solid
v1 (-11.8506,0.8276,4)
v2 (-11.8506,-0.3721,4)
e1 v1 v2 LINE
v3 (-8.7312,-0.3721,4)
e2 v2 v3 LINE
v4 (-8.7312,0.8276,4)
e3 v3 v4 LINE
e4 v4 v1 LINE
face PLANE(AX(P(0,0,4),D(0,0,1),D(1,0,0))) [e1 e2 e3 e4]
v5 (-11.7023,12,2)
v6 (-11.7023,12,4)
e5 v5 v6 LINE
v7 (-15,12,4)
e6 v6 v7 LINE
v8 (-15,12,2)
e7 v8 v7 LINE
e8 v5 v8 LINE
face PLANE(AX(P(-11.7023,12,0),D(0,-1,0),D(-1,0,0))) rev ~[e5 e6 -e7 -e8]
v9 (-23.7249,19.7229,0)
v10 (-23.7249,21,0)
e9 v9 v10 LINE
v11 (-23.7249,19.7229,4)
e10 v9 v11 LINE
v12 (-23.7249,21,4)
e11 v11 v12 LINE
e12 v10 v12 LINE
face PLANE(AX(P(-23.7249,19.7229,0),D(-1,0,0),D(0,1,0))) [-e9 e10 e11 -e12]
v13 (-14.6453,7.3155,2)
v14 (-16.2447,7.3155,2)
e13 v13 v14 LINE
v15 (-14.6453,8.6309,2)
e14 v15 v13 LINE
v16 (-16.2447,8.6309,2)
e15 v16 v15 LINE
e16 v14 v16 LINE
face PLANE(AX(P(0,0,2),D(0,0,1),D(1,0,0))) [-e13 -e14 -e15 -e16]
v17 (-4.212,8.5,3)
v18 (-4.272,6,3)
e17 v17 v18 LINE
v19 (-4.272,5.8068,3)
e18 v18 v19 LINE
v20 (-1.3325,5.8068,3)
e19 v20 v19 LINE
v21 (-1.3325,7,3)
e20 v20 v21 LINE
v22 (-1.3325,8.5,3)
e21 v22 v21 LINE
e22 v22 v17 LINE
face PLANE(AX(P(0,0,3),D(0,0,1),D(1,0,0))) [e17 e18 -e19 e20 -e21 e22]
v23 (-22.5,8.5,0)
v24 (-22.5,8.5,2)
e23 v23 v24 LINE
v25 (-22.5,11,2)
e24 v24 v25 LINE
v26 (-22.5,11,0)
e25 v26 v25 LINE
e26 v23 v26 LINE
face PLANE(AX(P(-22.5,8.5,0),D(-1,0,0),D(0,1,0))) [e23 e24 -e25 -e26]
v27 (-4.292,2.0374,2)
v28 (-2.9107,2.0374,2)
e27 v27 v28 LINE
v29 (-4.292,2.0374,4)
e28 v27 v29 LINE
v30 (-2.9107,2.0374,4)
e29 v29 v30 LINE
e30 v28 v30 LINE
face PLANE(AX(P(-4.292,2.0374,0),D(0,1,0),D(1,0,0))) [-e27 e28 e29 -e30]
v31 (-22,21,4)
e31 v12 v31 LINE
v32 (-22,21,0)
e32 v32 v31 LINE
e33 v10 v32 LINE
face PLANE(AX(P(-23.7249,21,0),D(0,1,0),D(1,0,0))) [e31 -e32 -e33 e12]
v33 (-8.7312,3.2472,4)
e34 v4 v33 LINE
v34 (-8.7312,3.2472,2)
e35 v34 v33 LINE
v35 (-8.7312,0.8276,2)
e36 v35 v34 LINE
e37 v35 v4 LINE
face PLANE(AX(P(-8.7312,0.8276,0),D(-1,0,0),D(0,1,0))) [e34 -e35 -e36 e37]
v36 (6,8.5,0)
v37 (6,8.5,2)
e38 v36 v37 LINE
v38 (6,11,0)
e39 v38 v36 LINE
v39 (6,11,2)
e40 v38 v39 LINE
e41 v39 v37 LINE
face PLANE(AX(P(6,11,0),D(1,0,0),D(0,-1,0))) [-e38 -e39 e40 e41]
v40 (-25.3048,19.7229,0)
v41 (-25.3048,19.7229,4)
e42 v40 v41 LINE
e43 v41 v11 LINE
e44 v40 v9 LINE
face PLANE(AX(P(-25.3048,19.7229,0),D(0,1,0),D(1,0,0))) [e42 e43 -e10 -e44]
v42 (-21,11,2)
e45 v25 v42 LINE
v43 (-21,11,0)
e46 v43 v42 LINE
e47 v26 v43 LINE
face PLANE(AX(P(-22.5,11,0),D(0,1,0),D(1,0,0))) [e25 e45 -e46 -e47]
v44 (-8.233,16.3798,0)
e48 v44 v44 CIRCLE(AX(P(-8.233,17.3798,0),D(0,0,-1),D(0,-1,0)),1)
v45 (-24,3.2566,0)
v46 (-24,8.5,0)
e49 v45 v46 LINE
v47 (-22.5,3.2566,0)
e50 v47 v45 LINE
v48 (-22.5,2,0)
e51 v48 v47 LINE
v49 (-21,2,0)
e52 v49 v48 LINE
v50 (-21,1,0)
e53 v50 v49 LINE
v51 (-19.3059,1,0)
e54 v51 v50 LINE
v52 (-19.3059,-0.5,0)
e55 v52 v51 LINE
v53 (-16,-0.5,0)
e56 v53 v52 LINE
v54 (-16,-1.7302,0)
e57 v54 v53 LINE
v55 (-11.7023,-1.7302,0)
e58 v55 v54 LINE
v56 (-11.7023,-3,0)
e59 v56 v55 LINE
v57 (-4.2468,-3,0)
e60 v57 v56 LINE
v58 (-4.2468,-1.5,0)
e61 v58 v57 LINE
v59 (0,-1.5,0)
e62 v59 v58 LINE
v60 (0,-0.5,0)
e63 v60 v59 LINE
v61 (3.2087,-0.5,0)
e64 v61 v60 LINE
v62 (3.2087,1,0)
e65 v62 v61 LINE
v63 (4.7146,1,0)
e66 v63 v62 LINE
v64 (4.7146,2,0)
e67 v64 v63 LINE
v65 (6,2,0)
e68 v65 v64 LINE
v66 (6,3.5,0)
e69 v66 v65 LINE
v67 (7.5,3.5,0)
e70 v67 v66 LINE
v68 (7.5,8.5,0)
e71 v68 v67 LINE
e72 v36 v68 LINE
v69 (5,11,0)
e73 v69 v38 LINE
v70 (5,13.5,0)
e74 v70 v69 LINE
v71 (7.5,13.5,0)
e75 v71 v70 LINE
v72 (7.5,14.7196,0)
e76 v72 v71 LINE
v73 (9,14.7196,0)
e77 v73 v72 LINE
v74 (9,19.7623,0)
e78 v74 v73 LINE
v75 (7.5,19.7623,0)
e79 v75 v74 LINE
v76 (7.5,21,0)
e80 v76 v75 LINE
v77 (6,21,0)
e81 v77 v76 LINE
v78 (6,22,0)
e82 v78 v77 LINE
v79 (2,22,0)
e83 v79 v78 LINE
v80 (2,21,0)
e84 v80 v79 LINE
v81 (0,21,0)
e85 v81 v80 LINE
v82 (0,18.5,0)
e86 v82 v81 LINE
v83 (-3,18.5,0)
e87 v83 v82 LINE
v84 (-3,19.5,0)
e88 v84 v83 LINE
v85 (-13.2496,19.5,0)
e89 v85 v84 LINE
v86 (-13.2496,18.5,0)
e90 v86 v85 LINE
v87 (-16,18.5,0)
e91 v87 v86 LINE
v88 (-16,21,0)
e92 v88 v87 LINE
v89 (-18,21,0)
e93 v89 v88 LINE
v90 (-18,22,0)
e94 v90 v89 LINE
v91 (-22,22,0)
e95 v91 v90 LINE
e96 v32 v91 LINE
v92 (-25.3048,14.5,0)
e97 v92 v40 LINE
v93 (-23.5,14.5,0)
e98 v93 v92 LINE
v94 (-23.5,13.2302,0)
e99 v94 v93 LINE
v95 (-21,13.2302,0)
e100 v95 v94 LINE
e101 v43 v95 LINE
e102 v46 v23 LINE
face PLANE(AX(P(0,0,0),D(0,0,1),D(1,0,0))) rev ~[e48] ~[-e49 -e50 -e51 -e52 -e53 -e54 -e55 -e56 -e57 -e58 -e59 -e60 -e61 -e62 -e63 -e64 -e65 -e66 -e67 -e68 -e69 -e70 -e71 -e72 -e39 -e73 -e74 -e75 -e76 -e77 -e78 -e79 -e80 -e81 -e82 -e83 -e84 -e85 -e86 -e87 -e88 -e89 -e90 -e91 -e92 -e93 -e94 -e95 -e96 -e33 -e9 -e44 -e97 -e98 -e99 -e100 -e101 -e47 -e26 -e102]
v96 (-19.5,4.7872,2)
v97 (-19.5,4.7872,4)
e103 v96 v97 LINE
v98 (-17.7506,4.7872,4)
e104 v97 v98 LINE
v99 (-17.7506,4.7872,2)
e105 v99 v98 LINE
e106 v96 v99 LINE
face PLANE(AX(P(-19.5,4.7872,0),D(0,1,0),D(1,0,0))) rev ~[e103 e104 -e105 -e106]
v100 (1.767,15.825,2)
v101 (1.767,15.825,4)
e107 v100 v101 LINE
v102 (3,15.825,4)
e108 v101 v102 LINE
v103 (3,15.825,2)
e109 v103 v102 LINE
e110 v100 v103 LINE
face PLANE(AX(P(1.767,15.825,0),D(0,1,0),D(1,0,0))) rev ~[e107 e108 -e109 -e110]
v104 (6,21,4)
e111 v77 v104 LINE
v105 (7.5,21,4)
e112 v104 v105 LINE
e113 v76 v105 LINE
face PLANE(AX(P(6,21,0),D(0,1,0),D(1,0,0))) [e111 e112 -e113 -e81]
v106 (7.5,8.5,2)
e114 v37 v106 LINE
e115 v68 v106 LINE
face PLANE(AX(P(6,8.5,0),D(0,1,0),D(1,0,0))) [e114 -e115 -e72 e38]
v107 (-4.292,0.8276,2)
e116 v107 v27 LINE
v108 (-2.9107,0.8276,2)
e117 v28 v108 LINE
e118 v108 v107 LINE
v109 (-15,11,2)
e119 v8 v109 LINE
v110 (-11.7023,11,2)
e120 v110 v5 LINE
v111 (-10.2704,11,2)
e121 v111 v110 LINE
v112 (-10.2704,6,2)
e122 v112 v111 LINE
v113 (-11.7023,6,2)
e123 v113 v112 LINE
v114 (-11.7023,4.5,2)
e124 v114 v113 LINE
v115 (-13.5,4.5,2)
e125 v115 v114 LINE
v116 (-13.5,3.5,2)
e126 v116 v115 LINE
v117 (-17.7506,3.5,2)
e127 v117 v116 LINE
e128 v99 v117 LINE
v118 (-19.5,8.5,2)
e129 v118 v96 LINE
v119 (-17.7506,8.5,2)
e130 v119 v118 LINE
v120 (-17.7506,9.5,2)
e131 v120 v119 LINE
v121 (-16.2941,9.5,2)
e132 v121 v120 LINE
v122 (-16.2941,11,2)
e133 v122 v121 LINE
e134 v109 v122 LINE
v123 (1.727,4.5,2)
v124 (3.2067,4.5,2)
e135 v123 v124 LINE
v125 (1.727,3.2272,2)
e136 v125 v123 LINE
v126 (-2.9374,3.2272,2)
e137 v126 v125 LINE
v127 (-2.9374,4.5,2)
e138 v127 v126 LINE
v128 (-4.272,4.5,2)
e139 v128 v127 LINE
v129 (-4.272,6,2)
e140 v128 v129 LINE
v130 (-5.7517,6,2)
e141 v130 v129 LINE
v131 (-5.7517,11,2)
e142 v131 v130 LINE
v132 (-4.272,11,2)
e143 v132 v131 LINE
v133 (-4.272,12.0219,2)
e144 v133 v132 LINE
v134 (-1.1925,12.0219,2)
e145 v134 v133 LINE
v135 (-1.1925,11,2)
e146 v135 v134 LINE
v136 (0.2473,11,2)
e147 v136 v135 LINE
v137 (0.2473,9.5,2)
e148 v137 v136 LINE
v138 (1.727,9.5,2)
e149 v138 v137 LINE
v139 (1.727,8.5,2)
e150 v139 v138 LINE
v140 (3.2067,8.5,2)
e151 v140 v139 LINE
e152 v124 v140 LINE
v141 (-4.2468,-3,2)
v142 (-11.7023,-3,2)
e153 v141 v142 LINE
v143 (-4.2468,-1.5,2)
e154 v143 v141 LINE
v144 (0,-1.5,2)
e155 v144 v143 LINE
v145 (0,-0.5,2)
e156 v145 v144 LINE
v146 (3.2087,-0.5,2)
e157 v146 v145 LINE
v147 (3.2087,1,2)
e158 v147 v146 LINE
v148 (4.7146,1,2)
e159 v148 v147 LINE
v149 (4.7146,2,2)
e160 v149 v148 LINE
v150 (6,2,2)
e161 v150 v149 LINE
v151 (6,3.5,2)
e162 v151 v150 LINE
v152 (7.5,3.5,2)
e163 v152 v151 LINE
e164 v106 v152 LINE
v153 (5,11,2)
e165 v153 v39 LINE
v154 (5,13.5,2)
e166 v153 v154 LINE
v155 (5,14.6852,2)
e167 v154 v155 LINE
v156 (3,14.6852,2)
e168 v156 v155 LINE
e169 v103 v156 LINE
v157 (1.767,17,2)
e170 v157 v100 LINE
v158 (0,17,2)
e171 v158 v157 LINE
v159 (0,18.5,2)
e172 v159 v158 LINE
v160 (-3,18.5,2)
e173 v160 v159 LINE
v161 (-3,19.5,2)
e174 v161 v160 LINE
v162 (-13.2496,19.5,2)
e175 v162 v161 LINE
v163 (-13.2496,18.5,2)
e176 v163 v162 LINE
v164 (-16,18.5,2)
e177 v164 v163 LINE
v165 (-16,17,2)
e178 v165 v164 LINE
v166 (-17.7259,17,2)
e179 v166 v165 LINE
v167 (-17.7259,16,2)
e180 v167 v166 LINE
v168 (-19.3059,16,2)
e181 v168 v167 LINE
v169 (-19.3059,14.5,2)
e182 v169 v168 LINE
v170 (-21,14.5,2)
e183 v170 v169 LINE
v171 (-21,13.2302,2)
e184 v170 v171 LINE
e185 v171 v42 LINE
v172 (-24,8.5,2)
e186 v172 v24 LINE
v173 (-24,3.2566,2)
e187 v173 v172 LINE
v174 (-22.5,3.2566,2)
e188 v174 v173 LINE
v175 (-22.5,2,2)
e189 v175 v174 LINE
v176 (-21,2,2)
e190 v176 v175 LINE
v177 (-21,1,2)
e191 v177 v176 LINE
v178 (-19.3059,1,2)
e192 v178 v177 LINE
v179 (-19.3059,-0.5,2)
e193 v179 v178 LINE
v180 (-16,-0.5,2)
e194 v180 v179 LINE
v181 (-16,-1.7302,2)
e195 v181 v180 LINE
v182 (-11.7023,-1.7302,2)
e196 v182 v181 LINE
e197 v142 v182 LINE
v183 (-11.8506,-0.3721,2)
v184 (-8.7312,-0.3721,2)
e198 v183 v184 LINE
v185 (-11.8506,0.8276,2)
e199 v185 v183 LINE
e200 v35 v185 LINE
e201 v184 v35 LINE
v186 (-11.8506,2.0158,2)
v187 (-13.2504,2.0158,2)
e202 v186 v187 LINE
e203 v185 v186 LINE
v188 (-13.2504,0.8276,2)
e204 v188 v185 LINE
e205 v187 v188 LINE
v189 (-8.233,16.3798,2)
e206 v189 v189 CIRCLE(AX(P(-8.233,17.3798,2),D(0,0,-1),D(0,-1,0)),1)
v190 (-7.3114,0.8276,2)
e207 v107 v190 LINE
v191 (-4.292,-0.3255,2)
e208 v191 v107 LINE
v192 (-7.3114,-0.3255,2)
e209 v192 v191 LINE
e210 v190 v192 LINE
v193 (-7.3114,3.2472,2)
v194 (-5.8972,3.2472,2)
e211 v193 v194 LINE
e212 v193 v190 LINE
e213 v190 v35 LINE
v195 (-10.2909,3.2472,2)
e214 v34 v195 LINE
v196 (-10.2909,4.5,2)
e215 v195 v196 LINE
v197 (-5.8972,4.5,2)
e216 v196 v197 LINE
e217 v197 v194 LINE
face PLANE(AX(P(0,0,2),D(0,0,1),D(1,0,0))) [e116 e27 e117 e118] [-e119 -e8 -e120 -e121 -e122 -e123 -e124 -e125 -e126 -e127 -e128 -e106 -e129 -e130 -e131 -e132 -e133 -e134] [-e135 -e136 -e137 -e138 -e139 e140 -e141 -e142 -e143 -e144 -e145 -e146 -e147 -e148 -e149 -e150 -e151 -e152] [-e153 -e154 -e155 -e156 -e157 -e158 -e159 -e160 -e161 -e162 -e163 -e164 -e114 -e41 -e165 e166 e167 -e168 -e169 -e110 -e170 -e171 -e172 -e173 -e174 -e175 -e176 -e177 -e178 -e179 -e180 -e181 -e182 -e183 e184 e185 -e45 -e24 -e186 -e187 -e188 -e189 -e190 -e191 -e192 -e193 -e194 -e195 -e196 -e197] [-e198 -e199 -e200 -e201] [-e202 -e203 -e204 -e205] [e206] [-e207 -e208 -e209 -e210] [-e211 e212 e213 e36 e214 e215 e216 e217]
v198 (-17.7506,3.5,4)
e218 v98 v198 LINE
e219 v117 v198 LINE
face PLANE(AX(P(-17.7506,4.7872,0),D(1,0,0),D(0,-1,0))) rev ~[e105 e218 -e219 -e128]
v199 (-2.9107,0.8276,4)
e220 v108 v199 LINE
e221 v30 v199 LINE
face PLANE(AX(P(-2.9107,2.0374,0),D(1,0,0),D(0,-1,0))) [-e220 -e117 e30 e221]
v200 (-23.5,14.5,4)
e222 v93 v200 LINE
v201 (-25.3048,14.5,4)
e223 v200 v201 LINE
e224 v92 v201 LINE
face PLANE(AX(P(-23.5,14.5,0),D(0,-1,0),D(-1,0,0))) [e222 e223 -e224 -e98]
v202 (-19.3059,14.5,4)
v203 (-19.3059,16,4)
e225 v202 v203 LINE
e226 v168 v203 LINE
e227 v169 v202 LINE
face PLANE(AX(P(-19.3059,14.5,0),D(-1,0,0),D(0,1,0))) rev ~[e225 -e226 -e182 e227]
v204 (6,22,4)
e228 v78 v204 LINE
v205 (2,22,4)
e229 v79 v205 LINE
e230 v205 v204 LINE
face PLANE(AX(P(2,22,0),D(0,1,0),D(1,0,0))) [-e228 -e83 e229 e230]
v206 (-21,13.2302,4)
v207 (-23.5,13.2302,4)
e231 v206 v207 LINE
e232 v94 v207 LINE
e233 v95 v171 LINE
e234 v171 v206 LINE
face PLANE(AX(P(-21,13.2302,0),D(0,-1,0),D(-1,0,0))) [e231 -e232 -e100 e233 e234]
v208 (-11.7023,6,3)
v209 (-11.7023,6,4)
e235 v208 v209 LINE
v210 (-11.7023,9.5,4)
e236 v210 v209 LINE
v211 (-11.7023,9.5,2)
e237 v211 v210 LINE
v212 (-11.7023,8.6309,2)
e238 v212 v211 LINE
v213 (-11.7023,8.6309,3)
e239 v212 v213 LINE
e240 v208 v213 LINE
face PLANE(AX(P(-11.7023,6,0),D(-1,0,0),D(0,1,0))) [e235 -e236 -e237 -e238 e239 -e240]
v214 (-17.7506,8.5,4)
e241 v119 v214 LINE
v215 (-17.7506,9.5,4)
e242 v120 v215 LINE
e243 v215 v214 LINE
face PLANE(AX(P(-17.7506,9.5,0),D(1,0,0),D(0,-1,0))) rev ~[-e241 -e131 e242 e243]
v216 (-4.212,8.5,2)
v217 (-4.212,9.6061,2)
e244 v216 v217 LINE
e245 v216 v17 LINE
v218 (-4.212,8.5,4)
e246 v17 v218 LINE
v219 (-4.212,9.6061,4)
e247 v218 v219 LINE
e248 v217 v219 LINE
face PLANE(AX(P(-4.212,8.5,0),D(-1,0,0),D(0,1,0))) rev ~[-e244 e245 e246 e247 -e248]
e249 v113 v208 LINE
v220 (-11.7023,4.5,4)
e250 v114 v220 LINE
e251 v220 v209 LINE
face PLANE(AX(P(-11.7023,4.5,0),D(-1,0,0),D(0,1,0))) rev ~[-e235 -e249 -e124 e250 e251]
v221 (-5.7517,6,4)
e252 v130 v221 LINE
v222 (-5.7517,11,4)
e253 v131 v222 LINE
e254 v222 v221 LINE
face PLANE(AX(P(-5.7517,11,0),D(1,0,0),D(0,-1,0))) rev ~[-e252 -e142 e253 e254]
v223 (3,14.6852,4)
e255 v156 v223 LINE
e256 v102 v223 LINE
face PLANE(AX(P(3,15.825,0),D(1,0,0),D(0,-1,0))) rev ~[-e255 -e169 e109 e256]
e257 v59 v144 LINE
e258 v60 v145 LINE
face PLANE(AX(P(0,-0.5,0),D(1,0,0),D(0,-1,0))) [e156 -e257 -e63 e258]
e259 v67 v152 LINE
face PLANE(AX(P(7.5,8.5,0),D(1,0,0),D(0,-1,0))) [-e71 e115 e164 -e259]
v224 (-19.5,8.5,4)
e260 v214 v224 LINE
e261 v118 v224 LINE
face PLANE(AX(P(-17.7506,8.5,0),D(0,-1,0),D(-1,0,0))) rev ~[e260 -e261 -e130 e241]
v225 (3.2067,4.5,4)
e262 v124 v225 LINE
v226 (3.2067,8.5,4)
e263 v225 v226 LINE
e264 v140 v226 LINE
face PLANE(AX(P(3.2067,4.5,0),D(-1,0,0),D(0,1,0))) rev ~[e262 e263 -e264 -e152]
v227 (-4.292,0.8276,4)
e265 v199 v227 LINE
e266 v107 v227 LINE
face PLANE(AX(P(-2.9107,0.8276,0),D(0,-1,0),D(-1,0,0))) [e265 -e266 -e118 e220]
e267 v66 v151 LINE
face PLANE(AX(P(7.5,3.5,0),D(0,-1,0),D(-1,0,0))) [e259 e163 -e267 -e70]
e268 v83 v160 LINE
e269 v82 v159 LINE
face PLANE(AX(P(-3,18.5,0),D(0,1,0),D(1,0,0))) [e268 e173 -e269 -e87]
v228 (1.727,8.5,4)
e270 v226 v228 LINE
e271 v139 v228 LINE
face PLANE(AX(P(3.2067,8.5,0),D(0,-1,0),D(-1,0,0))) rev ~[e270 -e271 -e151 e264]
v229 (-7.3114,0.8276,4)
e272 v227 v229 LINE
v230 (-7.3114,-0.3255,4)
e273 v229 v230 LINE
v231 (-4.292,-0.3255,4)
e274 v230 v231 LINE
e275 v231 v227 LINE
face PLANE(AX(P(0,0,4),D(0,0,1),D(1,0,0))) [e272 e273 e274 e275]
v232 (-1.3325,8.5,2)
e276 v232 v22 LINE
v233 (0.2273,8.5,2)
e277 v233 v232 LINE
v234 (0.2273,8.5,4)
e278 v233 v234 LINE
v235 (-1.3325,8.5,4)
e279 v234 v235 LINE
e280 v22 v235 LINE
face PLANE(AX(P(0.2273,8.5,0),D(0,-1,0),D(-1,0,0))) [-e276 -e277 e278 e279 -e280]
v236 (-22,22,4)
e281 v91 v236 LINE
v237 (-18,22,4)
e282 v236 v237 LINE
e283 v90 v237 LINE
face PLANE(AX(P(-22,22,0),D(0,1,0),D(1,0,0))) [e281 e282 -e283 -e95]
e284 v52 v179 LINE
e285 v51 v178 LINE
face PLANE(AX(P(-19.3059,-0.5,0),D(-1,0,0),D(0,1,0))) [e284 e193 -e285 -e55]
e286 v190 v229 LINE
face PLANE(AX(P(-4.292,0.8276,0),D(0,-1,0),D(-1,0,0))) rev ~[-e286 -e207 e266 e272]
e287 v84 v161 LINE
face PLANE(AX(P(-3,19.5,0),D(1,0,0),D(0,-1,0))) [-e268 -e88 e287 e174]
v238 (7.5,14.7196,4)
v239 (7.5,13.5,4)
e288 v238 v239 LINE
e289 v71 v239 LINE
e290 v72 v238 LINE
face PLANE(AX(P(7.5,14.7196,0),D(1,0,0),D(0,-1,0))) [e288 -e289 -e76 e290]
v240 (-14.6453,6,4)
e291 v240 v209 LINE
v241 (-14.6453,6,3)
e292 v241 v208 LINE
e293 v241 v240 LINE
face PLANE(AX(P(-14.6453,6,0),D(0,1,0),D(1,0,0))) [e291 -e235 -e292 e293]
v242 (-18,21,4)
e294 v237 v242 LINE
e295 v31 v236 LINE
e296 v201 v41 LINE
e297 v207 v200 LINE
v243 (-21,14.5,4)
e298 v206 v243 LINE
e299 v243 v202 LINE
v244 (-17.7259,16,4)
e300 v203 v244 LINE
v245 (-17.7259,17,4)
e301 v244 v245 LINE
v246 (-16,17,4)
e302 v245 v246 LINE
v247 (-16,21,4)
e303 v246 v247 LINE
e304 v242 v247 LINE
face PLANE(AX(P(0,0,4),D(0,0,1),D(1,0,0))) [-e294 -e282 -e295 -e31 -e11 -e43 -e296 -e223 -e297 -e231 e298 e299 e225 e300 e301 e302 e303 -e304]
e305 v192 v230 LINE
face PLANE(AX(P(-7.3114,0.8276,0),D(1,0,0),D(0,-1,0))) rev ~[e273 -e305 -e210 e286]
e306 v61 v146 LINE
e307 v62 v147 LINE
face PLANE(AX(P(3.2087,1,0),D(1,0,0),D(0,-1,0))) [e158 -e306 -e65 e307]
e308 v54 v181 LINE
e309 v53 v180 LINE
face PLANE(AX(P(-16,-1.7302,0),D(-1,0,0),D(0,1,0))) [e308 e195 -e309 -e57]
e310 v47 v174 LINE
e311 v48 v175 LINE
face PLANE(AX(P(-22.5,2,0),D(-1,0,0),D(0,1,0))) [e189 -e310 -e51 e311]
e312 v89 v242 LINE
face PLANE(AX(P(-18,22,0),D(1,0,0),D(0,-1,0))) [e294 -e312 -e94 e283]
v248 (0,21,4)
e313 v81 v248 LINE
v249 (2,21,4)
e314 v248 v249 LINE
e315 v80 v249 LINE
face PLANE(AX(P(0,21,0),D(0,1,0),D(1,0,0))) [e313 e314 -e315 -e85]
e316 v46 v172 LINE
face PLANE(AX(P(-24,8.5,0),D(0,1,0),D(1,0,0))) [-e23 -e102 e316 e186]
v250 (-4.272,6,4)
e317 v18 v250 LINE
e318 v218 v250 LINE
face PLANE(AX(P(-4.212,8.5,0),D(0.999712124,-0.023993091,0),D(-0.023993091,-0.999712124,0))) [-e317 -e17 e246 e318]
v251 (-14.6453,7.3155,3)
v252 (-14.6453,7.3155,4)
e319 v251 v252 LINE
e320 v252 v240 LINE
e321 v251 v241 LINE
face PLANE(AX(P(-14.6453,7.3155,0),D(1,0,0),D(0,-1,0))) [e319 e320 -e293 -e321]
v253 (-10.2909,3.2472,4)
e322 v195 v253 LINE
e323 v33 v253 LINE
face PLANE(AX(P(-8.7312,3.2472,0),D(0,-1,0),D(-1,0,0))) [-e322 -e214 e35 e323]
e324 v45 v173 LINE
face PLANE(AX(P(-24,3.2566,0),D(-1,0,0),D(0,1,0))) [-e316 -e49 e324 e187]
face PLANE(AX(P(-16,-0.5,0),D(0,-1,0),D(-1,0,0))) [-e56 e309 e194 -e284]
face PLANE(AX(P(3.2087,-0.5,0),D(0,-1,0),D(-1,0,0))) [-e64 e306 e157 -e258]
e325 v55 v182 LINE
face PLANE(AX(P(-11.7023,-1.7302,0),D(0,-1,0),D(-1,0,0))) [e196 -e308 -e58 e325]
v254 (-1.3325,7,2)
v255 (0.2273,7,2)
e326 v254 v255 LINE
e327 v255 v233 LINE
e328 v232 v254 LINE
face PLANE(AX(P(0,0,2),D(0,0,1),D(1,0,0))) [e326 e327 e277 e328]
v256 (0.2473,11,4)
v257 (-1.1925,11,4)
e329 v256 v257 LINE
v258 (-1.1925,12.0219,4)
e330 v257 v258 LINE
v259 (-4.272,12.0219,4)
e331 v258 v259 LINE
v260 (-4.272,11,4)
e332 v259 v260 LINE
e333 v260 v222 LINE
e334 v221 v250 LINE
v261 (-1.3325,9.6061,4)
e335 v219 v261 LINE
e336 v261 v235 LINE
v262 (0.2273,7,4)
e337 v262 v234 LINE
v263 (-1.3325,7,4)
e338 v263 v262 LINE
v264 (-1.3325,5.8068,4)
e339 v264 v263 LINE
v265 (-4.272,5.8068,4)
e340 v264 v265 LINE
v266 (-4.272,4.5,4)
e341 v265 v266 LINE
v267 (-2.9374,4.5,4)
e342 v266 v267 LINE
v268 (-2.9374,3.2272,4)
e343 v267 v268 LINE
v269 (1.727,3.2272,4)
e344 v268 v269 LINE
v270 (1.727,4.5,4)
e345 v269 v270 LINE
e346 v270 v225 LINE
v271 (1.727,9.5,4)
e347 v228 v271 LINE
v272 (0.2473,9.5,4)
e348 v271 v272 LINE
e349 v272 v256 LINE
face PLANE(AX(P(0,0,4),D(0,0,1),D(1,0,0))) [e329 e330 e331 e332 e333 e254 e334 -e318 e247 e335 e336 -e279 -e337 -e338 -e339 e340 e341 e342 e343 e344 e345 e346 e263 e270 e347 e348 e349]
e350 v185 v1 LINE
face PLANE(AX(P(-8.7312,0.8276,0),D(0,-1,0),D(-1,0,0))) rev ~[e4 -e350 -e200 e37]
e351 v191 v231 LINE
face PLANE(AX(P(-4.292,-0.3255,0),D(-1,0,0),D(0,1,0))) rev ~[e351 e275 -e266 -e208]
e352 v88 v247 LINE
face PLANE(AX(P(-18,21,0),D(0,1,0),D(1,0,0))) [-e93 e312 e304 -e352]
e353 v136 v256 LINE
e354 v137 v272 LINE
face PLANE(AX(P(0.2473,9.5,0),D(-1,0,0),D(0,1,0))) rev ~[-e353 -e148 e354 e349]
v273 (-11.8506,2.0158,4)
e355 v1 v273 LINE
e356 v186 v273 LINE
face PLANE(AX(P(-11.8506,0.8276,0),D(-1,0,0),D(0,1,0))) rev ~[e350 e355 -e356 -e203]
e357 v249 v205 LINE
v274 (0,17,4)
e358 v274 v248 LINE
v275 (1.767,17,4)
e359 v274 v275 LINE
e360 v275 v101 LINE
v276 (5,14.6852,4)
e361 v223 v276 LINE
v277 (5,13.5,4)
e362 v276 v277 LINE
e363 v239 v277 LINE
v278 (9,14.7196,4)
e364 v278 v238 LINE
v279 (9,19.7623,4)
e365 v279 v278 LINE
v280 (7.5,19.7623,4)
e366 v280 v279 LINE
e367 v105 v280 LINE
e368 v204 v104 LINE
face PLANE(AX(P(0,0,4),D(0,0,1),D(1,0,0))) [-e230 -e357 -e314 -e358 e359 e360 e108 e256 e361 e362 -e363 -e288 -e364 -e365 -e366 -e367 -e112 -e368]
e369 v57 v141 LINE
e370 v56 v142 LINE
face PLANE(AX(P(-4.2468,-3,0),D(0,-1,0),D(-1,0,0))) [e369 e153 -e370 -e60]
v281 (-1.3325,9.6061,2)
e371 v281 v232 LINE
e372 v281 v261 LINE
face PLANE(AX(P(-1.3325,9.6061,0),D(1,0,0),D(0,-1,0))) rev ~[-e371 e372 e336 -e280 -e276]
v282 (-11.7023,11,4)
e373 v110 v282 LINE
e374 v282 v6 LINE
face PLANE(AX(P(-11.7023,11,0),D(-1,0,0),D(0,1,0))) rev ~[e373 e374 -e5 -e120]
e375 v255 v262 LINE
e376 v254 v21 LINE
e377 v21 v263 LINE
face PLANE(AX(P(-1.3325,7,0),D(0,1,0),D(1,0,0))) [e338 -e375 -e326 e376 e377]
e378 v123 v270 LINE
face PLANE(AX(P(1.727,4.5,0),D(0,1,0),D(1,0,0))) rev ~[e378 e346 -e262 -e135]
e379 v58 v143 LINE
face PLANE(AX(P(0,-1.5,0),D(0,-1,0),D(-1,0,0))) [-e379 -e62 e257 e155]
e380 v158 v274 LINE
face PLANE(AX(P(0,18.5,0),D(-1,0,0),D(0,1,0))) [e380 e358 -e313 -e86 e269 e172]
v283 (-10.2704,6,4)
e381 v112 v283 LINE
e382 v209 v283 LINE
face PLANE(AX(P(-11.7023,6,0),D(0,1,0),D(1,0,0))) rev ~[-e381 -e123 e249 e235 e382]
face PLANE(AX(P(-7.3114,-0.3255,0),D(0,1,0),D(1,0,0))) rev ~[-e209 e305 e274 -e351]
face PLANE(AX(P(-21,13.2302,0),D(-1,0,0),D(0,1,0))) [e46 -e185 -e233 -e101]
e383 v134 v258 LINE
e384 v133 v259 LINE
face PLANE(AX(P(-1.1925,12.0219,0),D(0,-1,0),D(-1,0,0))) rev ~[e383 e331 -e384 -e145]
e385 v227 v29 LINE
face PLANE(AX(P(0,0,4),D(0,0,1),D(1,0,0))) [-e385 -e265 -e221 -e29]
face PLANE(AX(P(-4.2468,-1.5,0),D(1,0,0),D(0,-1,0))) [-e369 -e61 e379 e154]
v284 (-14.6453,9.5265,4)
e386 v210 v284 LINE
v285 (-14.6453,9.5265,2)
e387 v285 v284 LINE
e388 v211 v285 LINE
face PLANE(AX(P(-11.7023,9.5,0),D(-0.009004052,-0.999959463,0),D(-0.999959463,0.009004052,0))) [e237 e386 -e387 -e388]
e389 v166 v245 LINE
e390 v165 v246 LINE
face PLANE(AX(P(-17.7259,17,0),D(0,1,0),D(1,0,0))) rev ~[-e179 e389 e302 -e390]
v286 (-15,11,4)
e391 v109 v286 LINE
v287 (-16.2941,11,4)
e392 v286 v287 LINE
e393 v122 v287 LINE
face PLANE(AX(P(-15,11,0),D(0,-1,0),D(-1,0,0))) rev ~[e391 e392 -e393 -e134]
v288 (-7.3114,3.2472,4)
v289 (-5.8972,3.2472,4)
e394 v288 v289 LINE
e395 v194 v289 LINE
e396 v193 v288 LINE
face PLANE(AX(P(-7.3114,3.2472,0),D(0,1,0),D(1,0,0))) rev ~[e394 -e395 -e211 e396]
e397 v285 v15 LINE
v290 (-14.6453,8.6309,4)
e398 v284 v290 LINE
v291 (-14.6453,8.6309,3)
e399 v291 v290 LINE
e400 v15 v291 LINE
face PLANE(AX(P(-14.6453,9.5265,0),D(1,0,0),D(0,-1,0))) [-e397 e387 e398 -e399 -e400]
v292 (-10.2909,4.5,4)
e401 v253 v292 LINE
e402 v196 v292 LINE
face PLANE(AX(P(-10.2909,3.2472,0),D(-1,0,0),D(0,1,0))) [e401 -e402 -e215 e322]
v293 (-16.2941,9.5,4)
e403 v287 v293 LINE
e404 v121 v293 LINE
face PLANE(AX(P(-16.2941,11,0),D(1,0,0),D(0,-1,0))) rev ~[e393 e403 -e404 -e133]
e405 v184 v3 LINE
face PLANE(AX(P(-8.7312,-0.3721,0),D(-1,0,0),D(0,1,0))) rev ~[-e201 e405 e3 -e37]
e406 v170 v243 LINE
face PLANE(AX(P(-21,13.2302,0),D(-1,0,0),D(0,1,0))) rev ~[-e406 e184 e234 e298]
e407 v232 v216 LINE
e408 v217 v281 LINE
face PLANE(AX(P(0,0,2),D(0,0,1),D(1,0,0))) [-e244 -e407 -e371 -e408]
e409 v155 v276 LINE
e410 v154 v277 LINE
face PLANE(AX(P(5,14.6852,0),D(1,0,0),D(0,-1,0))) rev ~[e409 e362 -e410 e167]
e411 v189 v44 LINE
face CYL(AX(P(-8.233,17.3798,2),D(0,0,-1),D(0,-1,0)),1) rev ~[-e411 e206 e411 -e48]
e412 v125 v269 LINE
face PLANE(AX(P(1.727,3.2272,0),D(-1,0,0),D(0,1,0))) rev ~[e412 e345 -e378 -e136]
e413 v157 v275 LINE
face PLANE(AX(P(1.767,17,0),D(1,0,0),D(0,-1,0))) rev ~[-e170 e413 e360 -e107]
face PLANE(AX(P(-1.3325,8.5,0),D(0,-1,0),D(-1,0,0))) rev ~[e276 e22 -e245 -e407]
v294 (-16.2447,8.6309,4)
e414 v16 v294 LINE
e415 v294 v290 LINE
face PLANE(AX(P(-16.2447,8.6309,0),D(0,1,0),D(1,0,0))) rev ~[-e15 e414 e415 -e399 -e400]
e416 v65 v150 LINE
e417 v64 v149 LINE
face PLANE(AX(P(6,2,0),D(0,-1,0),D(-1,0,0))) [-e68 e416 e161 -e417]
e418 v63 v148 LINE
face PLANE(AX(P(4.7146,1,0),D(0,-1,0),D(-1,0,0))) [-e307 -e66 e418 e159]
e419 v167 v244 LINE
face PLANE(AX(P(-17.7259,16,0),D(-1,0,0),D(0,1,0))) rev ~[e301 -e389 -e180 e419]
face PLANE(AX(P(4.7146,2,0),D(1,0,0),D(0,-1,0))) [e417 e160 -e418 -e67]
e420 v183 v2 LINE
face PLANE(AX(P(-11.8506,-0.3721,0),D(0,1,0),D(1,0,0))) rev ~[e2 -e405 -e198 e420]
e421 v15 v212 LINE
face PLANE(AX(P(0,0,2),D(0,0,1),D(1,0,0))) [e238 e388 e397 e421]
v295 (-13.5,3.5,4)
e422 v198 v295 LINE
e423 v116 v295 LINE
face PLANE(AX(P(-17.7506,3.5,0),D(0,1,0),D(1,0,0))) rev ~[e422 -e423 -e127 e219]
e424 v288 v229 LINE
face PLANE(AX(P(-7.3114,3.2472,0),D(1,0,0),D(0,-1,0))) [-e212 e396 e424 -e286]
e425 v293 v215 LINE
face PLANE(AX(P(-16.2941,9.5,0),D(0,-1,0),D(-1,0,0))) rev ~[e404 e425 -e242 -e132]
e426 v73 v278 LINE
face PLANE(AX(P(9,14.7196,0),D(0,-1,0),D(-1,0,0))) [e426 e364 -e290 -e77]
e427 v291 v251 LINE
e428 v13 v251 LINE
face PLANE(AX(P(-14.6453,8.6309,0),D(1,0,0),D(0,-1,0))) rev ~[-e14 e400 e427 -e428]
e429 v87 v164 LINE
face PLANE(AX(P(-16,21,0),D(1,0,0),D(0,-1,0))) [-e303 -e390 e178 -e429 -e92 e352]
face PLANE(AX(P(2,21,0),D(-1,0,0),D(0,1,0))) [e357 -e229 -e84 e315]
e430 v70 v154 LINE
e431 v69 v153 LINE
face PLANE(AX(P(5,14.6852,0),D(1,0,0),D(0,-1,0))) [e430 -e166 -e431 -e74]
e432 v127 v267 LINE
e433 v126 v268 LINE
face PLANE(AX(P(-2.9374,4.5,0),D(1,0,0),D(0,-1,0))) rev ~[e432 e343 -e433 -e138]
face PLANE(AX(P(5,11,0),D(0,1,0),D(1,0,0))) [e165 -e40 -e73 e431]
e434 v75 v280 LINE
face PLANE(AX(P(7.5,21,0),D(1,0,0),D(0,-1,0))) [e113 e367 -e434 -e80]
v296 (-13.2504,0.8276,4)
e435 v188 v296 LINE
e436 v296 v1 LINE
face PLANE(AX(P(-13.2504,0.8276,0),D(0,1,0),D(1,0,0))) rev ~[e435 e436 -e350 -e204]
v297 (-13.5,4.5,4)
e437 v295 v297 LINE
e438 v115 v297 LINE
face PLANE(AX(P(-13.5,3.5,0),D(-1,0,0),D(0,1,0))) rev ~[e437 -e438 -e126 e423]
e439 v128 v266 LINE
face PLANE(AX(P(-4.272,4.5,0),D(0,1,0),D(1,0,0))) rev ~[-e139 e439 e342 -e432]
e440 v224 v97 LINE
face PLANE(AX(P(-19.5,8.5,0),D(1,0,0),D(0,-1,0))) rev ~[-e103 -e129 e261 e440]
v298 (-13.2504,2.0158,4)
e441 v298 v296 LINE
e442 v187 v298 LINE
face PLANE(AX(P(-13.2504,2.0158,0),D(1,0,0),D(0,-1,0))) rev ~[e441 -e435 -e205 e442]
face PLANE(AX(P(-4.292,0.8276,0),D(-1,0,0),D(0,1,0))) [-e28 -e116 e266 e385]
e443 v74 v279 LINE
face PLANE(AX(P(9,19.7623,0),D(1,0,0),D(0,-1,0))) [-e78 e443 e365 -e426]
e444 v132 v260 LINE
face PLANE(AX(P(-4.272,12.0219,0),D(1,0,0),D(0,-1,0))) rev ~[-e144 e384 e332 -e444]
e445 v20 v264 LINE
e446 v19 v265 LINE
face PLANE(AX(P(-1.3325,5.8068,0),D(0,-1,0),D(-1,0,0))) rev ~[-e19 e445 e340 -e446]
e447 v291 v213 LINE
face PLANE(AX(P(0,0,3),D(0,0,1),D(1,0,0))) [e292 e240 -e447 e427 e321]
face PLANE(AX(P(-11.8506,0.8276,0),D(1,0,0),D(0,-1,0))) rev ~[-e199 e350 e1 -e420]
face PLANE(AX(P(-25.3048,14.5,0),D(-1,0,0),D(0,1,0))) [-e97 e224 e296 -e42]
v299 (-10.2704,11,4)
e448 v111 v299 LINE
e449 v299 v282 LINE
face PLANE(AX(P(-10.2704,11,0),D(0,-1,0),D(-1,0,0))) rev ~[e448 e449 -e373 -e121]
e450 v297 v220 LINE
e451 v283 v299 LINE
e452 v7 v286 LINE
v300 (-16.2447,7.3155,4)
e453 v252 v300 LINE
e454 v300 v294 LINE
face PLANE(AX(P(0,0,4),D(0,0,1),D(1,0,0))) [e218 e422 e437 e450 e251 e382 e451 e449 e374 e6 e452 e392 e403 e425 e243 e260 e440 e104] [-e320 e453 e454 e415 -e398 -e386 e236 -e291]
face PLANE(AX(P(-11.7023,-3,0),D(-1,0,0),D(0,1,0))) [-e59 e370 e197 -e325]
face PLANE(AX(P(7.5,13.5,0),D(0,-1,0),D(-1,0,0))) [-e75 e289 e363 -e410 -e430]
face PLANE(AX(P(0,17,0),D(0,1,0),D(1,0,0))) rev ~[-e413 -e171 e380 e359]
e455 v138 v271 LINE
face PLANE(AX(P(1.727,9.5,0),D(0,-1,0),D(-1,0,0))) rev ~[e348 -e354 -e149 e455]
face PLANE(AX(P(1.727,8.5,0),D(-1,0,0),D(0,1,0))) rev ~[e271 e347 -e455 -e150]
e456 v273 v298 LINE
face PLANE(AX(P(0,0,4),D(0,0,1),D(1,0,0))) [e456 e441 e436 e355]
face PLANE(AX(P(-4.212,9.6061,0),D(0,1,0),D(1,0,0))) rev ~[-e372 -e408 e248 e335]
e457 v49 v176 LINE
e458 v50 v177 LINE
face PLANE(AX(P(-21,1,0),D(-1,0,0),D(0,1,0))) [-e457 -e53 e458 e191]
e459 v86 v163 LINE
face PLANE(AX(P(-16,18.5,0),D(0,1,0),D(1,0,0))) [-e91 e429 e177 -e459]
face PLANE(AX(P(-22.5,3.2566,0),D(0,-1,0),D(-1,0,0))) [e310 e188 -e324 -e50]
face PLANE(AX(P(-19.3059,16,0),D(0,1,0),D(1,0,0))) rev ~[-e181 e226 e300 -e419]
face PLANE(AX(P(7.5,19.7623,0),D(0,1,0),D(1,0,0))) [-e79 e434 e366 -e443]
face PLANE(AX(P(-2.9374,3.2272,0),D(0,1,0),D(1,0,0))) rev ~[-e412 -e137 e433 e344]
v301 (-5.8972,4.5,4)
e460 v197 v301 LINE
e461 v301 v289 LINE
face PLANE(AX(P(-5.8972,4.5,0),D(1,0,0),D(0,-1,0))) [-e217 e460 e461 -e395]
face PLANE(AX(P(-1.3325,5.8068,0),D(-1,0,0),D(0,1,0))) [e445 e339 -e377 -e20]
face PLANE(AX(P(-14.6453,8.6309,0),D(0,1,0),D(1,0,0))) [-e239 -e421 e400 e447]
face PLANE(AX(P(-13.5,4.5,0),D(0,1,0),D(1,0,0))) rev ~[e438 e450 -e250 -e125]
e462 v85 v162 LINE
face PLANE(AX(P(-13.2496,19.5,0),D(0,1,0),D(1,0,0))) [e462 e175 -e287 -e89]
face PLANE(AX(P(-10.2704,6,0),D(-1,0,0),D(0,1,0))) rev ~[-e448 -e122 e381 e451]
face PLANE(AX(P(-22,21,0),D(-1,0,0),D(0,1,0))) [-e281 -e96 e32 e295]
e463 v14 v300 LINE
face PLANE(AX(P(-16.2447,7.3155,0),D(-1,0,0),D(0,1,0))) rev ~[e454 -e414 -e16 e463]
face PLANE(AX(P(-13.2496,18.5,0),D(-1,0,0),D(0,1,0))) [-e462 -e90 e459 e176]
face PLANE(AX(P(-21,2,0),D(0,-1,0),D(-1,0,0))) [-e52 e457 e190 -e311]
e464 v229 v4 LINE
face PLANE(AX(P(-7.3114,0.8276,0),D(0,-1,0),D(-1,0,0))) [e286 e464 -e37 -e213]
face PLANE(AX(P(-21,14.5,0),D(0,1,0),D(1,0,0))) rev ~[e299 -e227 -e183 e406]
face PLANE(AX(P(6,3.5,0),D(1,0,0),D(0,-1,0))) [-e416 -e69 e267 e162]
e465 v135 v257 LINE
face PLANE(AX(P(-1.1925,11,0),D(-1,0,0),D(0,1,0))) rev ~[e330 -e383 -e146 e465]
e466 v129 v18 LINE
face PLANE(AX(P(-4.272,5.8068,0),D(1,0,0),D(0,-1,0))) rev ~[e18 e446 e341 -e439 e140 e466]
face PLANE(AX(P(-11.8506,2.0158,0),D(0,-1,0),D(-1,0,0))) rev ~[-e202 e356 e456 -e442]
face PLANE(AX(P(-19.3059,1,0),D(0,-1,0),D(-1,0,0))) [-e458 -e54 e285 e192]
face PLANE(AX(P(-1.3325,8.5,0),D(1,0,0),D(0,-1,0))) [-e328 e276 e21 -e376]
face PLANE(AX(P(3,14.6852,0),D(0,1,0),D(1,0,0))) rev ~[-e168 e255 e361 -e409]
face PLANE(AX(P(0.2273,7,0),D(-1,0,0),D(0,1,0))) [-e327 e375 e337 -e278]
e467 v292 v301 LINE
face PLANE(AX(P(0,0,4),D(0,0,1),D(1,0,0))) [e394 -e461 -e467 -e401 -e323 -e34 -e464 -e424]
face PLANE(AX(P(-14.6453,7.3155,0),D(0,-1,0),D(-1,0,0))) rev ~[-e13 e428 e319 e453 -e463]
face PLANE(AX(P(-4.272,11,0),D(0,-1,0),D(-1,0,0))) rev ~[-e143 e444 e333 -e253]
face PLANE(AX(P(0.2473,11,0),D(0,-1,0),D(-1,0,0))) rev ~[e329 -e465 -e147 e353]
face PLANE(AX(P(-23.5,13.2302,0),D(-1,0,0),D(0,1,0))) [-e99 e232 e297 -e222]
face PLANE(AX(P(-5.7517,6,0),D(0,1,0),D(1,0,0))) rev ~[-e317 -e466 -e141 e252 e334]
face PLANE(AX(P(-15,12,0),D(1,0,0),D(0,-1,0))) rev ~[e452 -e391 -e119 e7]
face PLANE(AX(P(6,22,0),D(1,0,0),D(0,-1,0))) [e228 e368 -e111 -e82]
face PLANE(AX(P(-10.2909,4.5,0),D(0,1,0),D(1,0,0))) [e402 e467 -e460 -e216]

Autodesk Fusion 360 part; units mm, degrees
sketch "panda" plane through (0, 0, 0) normal (0, 0, 1) x (1, 0, 0)
sketch "Sketch2" plane through (0, 0, 0) normal (0, 0, 1) x (1, 0, 0)
  line L0 (-22, 22) -> (-18, 22)
  line L1 (-18, 22) -> (-18, 21)
  line L2 (-18, 21) -> (-16, 21)
  line L3 (-16, 21) -> (-16, 18.5)
  line L4 (-16, 18.5) -> (-13.2496, 18.5)
  line L5 (-13.2496, 18.5) -> (-13.2496, 19.5)
  line L6 (-13.2496, 19.5) -> (-3, 19.5)
  line L7 (-3, 19.5) -> (-3, 18.5)
  line L8 (-3, 18.5) -> (0, 18.5)
  line L9 (0, 18.5) -> (0, 21)
  line L10 (0, 21) -> (2, 21)
  line L11 (2, 21) -> (2, 22)
  line L12 (2, 22) -> (6, 22)
  line L13 (6, 22) -> (6, 21)
  line L14 (6, 21) -> (7.5, 21)
  line L15 (7.5, 21) -> (7.5, 19.7623)
  line L16 (7.5, 19.7623) -> (9, 19.7623)
  line L17 (9, 19.7623) -> (9, 14.7196)
  line L18 (9, 14.7196) -> (7.5, 14.7196)
  line L19 (7.5, 14.7196) -> (7.5, 13.5)
  line L20 (7.5, 13.5) -> (5, 13.5)
  line L21 (5, 13.5) -> (5, 11)
  line L22 (5, 11) -> (6, 11)
  line L23 (6, 11) -> (6, 8.5)
  line L24 (6, 8.5) -> (7.5, 8.5)
  line L25 (7.5, 8.5) -> (7.5, 3.5)
  line L26 (7.5, 3.5) -> (6, 3.5)
  line L27 (6, 3.5) -> (6, 2)
  line L28 (6, 2) -> (4.7146, 2)
  line L29 (4.7146, 2) -> (4.7146, 1)
  line L30 (4.7146, 1) -> (3.2087, 1)
  line L31 (3.2087, 1) -> (3.2087, -0.5)
  line L32 (3.2087, -0.5) -> (0, -0.5)
  line L33 (0, -0.5) -> (0, -1.5)
  line L34 (0, -1.5) -> (-4.2468, -1.5)
  line L35 (-4.2468, -1.5) -> (-4.2468, -3)
  line L36 (-4.2468, -3) -> (-11.7023, -3)
  line L37 (-11.7023, -3) -> (-11.7023, -1.7302)
  line L38 (-11.7023, -1.7302) -> (-16, -1.7302)
  line L39 (-16, -1.7302) -> (-16, -0.5)
  line L40 (-16, -0.5) -> (-19.3059, -0.5)
  line L41 (-19.3059, -0.5) -> (-19.3059, 1)
  line L42 (-19.3059, 1) -> (-21, 1)
  line L43 (-21, 1) -> (-21, 2)
  line L44 (-21, 2) -> (-22.5, 2)
  line L45 (-22.5, 2) -> (-22.5, 3.2566)
  line L46 (-22.5, 3.2566) -> (-24, 3.2566)
  line L47 (-24, 3.2566) -> (-24, 8.5)
  line L48 (-24, 8.5) -> (-22.5, 8.5)
  line L49 (-22.5, 8.5) -> (-22.5, 11)
  line L50 (-22.5, 11) -> (-21, 11)
  line L51 (-21, 11) -> (-21, 13.2302)
  line L52 (-21, 13.2302) -> (-23.5, 13.2302)
  line L53 (-23.5, 13.2302) -> (-23.5, 14.5)
  line L54 (-23.5, 14.5) -> (-25.3048, 14.5)
  line L55 (-25.3048, 14.5) -> (-25.3048, 19.7229)
  line L56 (-25.3048, 19.7229) -> (-23.7249, 19.7229)
  line L57 (-23.7249, 19.7229) -> (-23.7249, 21)
  line L58 (-23.7249, 21) -> (-22, 21)
  line L59 (-22, 21) -> (-22, 22)
  line L60 (-21, 13.2302) -> (-21, 14.5)
  line L61 (-21, 14.5) -> (-19.3059, 14.5)
  line L62 (-19.3059, 14.5) -> (-19.3059, 16)
  line L63 (-19.3059, 16) -> (-17.7259, 16)
  line L64 (-17.7259, 16) -> (-17.7259, 17)
  line L65 (-17.7259, 17) -> (-16, 17)
  line L66 (-16, 17) -> (-16, 18.5)
  line L67 (-15, 12) -> (-15, 11)
  line L68 (-15, 11) -> (-16.2941, 11)
  line L69 (-16.2941, 11) -> (-16.2941, 9.5)
  line L70 (-16.2941, 9.5) -> (-17.7506, 9.5)
  line L71 (-17.7506, 9.5) -> (-17.7506, 8.5)
  line L72 (-17.7506, 8.5) -> (-19.5, 8.5)
  line L73 (-19.5, 8.5) -> (-19.5, 4.7872)
  line L74 (-19.5, 4.7872) -> (-17.7506, 4.7872)
  line L75 (-17.7506, 4.7872) -> (-17.7506, 3.5)
  line L76 (-17.7506, 3.5) -> (-13.5, 3.5)
  line L77 (-13.5, 3.5) -> (-13.5, 4.5)
  line L78 (-13.5, 4.5) -> (-11.7023, 4.5)
  line L79 (-11.7023, 4.5) -> (-11.7023, 6)
  line L80 (-11.7023, 6) -> (-10.2704, 6)
  line L81 (-10.2704, 6) -> (-10.2704, 11)
  line L82 (-10.2704, 11) -> (-11.7023, 11)
  line L83 (-11.7023, 11) -> (-11.7023, 12)
  line L84 (-11.7023, 12) -> (-15, 12)
  line L85 (-14.6453, 9.5265) -> (-14.6453, 8.6309)
  line L86 (-14.6453, 8.6309) -> (-11.7023, 8.6309)
  line L87 (-11.7023, 8.6309) -> (-11.7023, 9.5)
  line L88 (-11.7023, 9.5) -> (-14.6453, 9.5265)
  line L89 (-14.6453, 8.6309) -> (-14.6453, 6)
  line L90 (-14.6453, 6) -> (-11.7023, 6)
  line L91 (-11.7023, 6) -> (-11.7023, 8.6309)
  line L92 (-14.6453, 7.3155) -> (-16.2447, 7.3155)
  line L93 (-16.2447, 7.3155) -> (-16.2447, 8.6309)
  line L94 (-16.2447, 8.6309) -> (-14.6453, 8.6309)
  line L95 (-13.2504, 2.0158) -> (-13.2504, 0.8276)
  line L96 (-13.2504, 0.8276) -> (-11.8506, 0.8276)
  line L97 (-11.8506, 0.8276) -> (-11.8506, 2.0158)
  line L98 (-11.8506, 2.0158) -> (-13.2504, 2.0158)
  line L99 (-11.8506, 0.8276) -> (-11.8506, -0.3721)
  line L100 (-11.8506, -0.3721) -> (-8.7312, -0.3721)
  line L101 (-8.7312, -0.3721) -> (-8.7312, 0.8276)
  line L102 (-8.7312, 0.8276) -> (-11.8506, 0.8276)
  line L103 (-8.7312, 0.8276) -> (-8.7312, 3.2472)
  line L104 (-8.7312, 3.2472) -> (-10.2909, 3.2472)
  line L105 (-10.2909, 3.2472) -> (-10.2909, 4.5)
  line L106 (-10.2909, 4.5) -> (-5.8972, 4.5)
  line L107 (-5.8972, 4.5) -> (-5.8972, 3.2472)
  line L108 (-7.3114, 3.2472) -> (-5.8972, 3.2472)
  line L109 (-7.3114, 3.2472) -> (-7.3114, 0.8276)
  line L110 (-7.3114, 0.8276) -> (-8.7312, 0.8276)
  line L111 (-7.3114, 0.8276) -> (-7.3114, -0.3255)
  line L112 (-7.3114, -0.3255) -> (-4.292, -0.3255)
  line L113 (-4.292, -0.3255) -> (-4.292, 0.8276)
  line L114 (-4.292, 0.8276) -> (-7.3114, 0.8276)
  line L115 (-4.292, 0.8276) -> (-4.292, 2.0374)
  line L116 (-4.292, 2.0374) -> (-2.9107, 2.0374)
  line L117 (-2.9107, 2.0374) -> (-2.9107, 0.8276)
  line L118 (-2.9107, 0.8276) -> (-4.292, 0.8276)
  line L119 (-4.272, 12.0219) -> (-4.272, 11)
  line L120 (-4.272, 11) -> (-5.7517, 11)
  line L121 (-5.7517, 11) -> (-5.7517, 6)
  line L122 (-5.7517, 6) -> (-4.272, 6)
  line L123 (-4.272, 6) -> (-4.272, 4.5)
  line L124 (-4.272, 4.5) -> (-2.9374, 4.5)
  line L125 (-2.9374, 4.5) -> (-2.9374, 3.2272)
  line L126 (-2.9374, 3.2272) -> (1.727, 3.2272)
  line L127 (1.727, 3.2272) -> (1.727, 4.5)
  line L128 (1.727, 4.5) -> (3.2067, 4.5)
  line L129 (3.2067, 4.5) -> (3.2067, 8.5)
  line L130 (3.2067, 8.5) -> (1.727, 8.5)
  line L131 (1.727, 8.5) -> (1.727, 9.5)
  line L132 (1.727, 9.5) -> (0.2473, 9.5)
  line L133 (0.2473, 9.5) -> (0.2473, 11)
  line L134 (0.2473, 11) -> (-1.1925, 11)
  line L135 (-1.1925, 11) -> (-1.1925, 12.0219)
  line L136 (-1.1925, 12.0219) -> (-4.272, 12.0219)
  line L137 (-4.212, 9.6061) -> (-1.3325, 9.6061)
  line L138 (-1.3325, 9.6061) -> (-1.3325, 8.5)
  line L139 (-1.3325, 8.5) -> (-4.212, 8.5)
  line L140 (-4.212, 8.5) -> (-4.212, 9.6061)
  line L141 (-1.3325, 8.5) -> (-1.3325, 7)
  line L142 (-1.3325, 7) -> (0.2273, 7)
  line L143 (0.2273, 7) -> (0.2273, 8.5)
  line L144 (0.2273, 8.5) -> (-1.3325, 8.5)
  line L145 (-1.3325, 5.8068) -> (-1.3325, 8.5)
  line L146 (-4.212, 8.5) -> (-4.272, 6)
  line L147 (-1.3325, 5.8068) -> (-4.272, 5.8068)
  line L148 (0, 18.5) -> (0, 17)
  line L149 (0, 17) -> (1.767, 17)
  line L150 (1.767, 17) -> (1.767, 15.825)
  line L151 (1.767, 15.825) -> (3, 15.825)
  line L152 (3, 15.825) -> (3, 14.6852)
  line L153 (3, 14.6852) -> (5, 14.6852)
  line L154 (5, 14.6852) -> (5, 13.5)
sketch "Sketch3" plane through (0, 0, 0) normal (0, 0, 1) x (1, 0, 0)
  line L0 (-8.859, 18.4208) -> (-8.859, 17)
  line L1 (-8.859, 17) -> (-7.3586, 17)
  line L2 (-7.3586, 17) -> (-7.3586, 18.4208)
  line L3 (-7.3586, 18.4208) -> (-8.859, 18.4208)
extrude "Extrude1" add sketch "Sketch2" along normal blind 4 contours L0 L1 L2 L3 L52 L53 L54 L55 L56 L57 L58 L59 L60 L61 L62 L63 L64 L65 L66 makes body 1
extrude "Extrude2" add sketch "Sketch2" along normal blind 4 separate body contours L9 L10 L11 L12 L13 L14 L15 L16 L17 L18 L19 L20 L148 L149 L150 L151 L152 L153 L154 makes body 2
extrude "Extrude3" add sketch "Sketch2" along normal blind 4 separate body contours L103 L104 L105 L106 L107 L108 L109 L110 makes body 3
extrude "Extrude4" add sketch "Sketch2" along normal blind 4 separate body contours L111 L112 L113 L114 makes body 4
extrude "Extrude5" add sketch "Sketch2" along normal blind 4 separate body contours L115 L116 L117 L118 makes body 5
extrude "Extrude6" add sketch "Sketch2" along normal blind 4 separate body contours L99 L100 L101 L102 makes body 6
extrude "Extrude7" add sketch "Sketch2" along normal blind 4 separate body contours L95 L96 L97 L98 makes body 7
extrude "Extrude8" add sketch "Sketch2" along normal blind 4 separate body contours L119 L120 L121 L122 L123 L124 L125 L126 L127 L128 L129 L130 L131 L132 L133 L134 L135 L136 L137 L138 L140 L142 L143 L144 L145 L146 L147 makes body 8
extrude "Extrude9" add sketch "Sketch2" along normal blind 4 separate body contours L67 L68 L69 L70 L71 L72 L73 L74 L75 L76 L77 L78 L79 L80 L81 L82 L83 L84 makes body 9
extrude "Extrude10" add sketch "Sketch2" along normal blind 3 separate body contours L86 L89 L90 L91 makes body 10
extrude "Extrude11" add sketch "Sketch2" along normal blind 3 separate body contours L123 L139 L141 L145 L146 L147 makes body 11
extrude "Extrude12" add sketch "Sketch2" along normal blind 2 separate body contours L4 L5 L6 L7 L8 L21 L22 L23 L24 L25 L26 L27 L28 L29 L30 L31 L32 L33 L34 L35 L36 L37 L38 L39 L40 L41 L42 L43 L44 L45 L46 L47 L48 L49 L50 L51 L60 L61 L62 L63 L64 L65 L66 L148 L149 L150 L151 L152 L153 L154 makes body 12
extrude "Extrude13" add sketch "Sketch2" along normal blind 2 contours L137 L138 L139 L140 bodies 8 12 11
extrude "Extrude14" add sketch "Sketch2" along normal blind 2 separate body contours L141 L142 L143 L144 L145 makes body 13
extrude "Extrude15" add sketch "Sketch2" along normal blind 2 contours L85 L86 L87 L88 bodies 10 12 9
extrude "Extrude16" add sketch "Sketch2" along normal blind 2 separate body contours L89 L92 L93 L94 makes body 14
hole "Hole1" at (-8.233, 17.3798, 2) direction (0, 0, -1) diameter 2 depth 10 tip angle 118 bodies 12
combine "Combine1" operation add target body 1 tool bodies 2 8 13 10 14 3 5 12 6 7 4
